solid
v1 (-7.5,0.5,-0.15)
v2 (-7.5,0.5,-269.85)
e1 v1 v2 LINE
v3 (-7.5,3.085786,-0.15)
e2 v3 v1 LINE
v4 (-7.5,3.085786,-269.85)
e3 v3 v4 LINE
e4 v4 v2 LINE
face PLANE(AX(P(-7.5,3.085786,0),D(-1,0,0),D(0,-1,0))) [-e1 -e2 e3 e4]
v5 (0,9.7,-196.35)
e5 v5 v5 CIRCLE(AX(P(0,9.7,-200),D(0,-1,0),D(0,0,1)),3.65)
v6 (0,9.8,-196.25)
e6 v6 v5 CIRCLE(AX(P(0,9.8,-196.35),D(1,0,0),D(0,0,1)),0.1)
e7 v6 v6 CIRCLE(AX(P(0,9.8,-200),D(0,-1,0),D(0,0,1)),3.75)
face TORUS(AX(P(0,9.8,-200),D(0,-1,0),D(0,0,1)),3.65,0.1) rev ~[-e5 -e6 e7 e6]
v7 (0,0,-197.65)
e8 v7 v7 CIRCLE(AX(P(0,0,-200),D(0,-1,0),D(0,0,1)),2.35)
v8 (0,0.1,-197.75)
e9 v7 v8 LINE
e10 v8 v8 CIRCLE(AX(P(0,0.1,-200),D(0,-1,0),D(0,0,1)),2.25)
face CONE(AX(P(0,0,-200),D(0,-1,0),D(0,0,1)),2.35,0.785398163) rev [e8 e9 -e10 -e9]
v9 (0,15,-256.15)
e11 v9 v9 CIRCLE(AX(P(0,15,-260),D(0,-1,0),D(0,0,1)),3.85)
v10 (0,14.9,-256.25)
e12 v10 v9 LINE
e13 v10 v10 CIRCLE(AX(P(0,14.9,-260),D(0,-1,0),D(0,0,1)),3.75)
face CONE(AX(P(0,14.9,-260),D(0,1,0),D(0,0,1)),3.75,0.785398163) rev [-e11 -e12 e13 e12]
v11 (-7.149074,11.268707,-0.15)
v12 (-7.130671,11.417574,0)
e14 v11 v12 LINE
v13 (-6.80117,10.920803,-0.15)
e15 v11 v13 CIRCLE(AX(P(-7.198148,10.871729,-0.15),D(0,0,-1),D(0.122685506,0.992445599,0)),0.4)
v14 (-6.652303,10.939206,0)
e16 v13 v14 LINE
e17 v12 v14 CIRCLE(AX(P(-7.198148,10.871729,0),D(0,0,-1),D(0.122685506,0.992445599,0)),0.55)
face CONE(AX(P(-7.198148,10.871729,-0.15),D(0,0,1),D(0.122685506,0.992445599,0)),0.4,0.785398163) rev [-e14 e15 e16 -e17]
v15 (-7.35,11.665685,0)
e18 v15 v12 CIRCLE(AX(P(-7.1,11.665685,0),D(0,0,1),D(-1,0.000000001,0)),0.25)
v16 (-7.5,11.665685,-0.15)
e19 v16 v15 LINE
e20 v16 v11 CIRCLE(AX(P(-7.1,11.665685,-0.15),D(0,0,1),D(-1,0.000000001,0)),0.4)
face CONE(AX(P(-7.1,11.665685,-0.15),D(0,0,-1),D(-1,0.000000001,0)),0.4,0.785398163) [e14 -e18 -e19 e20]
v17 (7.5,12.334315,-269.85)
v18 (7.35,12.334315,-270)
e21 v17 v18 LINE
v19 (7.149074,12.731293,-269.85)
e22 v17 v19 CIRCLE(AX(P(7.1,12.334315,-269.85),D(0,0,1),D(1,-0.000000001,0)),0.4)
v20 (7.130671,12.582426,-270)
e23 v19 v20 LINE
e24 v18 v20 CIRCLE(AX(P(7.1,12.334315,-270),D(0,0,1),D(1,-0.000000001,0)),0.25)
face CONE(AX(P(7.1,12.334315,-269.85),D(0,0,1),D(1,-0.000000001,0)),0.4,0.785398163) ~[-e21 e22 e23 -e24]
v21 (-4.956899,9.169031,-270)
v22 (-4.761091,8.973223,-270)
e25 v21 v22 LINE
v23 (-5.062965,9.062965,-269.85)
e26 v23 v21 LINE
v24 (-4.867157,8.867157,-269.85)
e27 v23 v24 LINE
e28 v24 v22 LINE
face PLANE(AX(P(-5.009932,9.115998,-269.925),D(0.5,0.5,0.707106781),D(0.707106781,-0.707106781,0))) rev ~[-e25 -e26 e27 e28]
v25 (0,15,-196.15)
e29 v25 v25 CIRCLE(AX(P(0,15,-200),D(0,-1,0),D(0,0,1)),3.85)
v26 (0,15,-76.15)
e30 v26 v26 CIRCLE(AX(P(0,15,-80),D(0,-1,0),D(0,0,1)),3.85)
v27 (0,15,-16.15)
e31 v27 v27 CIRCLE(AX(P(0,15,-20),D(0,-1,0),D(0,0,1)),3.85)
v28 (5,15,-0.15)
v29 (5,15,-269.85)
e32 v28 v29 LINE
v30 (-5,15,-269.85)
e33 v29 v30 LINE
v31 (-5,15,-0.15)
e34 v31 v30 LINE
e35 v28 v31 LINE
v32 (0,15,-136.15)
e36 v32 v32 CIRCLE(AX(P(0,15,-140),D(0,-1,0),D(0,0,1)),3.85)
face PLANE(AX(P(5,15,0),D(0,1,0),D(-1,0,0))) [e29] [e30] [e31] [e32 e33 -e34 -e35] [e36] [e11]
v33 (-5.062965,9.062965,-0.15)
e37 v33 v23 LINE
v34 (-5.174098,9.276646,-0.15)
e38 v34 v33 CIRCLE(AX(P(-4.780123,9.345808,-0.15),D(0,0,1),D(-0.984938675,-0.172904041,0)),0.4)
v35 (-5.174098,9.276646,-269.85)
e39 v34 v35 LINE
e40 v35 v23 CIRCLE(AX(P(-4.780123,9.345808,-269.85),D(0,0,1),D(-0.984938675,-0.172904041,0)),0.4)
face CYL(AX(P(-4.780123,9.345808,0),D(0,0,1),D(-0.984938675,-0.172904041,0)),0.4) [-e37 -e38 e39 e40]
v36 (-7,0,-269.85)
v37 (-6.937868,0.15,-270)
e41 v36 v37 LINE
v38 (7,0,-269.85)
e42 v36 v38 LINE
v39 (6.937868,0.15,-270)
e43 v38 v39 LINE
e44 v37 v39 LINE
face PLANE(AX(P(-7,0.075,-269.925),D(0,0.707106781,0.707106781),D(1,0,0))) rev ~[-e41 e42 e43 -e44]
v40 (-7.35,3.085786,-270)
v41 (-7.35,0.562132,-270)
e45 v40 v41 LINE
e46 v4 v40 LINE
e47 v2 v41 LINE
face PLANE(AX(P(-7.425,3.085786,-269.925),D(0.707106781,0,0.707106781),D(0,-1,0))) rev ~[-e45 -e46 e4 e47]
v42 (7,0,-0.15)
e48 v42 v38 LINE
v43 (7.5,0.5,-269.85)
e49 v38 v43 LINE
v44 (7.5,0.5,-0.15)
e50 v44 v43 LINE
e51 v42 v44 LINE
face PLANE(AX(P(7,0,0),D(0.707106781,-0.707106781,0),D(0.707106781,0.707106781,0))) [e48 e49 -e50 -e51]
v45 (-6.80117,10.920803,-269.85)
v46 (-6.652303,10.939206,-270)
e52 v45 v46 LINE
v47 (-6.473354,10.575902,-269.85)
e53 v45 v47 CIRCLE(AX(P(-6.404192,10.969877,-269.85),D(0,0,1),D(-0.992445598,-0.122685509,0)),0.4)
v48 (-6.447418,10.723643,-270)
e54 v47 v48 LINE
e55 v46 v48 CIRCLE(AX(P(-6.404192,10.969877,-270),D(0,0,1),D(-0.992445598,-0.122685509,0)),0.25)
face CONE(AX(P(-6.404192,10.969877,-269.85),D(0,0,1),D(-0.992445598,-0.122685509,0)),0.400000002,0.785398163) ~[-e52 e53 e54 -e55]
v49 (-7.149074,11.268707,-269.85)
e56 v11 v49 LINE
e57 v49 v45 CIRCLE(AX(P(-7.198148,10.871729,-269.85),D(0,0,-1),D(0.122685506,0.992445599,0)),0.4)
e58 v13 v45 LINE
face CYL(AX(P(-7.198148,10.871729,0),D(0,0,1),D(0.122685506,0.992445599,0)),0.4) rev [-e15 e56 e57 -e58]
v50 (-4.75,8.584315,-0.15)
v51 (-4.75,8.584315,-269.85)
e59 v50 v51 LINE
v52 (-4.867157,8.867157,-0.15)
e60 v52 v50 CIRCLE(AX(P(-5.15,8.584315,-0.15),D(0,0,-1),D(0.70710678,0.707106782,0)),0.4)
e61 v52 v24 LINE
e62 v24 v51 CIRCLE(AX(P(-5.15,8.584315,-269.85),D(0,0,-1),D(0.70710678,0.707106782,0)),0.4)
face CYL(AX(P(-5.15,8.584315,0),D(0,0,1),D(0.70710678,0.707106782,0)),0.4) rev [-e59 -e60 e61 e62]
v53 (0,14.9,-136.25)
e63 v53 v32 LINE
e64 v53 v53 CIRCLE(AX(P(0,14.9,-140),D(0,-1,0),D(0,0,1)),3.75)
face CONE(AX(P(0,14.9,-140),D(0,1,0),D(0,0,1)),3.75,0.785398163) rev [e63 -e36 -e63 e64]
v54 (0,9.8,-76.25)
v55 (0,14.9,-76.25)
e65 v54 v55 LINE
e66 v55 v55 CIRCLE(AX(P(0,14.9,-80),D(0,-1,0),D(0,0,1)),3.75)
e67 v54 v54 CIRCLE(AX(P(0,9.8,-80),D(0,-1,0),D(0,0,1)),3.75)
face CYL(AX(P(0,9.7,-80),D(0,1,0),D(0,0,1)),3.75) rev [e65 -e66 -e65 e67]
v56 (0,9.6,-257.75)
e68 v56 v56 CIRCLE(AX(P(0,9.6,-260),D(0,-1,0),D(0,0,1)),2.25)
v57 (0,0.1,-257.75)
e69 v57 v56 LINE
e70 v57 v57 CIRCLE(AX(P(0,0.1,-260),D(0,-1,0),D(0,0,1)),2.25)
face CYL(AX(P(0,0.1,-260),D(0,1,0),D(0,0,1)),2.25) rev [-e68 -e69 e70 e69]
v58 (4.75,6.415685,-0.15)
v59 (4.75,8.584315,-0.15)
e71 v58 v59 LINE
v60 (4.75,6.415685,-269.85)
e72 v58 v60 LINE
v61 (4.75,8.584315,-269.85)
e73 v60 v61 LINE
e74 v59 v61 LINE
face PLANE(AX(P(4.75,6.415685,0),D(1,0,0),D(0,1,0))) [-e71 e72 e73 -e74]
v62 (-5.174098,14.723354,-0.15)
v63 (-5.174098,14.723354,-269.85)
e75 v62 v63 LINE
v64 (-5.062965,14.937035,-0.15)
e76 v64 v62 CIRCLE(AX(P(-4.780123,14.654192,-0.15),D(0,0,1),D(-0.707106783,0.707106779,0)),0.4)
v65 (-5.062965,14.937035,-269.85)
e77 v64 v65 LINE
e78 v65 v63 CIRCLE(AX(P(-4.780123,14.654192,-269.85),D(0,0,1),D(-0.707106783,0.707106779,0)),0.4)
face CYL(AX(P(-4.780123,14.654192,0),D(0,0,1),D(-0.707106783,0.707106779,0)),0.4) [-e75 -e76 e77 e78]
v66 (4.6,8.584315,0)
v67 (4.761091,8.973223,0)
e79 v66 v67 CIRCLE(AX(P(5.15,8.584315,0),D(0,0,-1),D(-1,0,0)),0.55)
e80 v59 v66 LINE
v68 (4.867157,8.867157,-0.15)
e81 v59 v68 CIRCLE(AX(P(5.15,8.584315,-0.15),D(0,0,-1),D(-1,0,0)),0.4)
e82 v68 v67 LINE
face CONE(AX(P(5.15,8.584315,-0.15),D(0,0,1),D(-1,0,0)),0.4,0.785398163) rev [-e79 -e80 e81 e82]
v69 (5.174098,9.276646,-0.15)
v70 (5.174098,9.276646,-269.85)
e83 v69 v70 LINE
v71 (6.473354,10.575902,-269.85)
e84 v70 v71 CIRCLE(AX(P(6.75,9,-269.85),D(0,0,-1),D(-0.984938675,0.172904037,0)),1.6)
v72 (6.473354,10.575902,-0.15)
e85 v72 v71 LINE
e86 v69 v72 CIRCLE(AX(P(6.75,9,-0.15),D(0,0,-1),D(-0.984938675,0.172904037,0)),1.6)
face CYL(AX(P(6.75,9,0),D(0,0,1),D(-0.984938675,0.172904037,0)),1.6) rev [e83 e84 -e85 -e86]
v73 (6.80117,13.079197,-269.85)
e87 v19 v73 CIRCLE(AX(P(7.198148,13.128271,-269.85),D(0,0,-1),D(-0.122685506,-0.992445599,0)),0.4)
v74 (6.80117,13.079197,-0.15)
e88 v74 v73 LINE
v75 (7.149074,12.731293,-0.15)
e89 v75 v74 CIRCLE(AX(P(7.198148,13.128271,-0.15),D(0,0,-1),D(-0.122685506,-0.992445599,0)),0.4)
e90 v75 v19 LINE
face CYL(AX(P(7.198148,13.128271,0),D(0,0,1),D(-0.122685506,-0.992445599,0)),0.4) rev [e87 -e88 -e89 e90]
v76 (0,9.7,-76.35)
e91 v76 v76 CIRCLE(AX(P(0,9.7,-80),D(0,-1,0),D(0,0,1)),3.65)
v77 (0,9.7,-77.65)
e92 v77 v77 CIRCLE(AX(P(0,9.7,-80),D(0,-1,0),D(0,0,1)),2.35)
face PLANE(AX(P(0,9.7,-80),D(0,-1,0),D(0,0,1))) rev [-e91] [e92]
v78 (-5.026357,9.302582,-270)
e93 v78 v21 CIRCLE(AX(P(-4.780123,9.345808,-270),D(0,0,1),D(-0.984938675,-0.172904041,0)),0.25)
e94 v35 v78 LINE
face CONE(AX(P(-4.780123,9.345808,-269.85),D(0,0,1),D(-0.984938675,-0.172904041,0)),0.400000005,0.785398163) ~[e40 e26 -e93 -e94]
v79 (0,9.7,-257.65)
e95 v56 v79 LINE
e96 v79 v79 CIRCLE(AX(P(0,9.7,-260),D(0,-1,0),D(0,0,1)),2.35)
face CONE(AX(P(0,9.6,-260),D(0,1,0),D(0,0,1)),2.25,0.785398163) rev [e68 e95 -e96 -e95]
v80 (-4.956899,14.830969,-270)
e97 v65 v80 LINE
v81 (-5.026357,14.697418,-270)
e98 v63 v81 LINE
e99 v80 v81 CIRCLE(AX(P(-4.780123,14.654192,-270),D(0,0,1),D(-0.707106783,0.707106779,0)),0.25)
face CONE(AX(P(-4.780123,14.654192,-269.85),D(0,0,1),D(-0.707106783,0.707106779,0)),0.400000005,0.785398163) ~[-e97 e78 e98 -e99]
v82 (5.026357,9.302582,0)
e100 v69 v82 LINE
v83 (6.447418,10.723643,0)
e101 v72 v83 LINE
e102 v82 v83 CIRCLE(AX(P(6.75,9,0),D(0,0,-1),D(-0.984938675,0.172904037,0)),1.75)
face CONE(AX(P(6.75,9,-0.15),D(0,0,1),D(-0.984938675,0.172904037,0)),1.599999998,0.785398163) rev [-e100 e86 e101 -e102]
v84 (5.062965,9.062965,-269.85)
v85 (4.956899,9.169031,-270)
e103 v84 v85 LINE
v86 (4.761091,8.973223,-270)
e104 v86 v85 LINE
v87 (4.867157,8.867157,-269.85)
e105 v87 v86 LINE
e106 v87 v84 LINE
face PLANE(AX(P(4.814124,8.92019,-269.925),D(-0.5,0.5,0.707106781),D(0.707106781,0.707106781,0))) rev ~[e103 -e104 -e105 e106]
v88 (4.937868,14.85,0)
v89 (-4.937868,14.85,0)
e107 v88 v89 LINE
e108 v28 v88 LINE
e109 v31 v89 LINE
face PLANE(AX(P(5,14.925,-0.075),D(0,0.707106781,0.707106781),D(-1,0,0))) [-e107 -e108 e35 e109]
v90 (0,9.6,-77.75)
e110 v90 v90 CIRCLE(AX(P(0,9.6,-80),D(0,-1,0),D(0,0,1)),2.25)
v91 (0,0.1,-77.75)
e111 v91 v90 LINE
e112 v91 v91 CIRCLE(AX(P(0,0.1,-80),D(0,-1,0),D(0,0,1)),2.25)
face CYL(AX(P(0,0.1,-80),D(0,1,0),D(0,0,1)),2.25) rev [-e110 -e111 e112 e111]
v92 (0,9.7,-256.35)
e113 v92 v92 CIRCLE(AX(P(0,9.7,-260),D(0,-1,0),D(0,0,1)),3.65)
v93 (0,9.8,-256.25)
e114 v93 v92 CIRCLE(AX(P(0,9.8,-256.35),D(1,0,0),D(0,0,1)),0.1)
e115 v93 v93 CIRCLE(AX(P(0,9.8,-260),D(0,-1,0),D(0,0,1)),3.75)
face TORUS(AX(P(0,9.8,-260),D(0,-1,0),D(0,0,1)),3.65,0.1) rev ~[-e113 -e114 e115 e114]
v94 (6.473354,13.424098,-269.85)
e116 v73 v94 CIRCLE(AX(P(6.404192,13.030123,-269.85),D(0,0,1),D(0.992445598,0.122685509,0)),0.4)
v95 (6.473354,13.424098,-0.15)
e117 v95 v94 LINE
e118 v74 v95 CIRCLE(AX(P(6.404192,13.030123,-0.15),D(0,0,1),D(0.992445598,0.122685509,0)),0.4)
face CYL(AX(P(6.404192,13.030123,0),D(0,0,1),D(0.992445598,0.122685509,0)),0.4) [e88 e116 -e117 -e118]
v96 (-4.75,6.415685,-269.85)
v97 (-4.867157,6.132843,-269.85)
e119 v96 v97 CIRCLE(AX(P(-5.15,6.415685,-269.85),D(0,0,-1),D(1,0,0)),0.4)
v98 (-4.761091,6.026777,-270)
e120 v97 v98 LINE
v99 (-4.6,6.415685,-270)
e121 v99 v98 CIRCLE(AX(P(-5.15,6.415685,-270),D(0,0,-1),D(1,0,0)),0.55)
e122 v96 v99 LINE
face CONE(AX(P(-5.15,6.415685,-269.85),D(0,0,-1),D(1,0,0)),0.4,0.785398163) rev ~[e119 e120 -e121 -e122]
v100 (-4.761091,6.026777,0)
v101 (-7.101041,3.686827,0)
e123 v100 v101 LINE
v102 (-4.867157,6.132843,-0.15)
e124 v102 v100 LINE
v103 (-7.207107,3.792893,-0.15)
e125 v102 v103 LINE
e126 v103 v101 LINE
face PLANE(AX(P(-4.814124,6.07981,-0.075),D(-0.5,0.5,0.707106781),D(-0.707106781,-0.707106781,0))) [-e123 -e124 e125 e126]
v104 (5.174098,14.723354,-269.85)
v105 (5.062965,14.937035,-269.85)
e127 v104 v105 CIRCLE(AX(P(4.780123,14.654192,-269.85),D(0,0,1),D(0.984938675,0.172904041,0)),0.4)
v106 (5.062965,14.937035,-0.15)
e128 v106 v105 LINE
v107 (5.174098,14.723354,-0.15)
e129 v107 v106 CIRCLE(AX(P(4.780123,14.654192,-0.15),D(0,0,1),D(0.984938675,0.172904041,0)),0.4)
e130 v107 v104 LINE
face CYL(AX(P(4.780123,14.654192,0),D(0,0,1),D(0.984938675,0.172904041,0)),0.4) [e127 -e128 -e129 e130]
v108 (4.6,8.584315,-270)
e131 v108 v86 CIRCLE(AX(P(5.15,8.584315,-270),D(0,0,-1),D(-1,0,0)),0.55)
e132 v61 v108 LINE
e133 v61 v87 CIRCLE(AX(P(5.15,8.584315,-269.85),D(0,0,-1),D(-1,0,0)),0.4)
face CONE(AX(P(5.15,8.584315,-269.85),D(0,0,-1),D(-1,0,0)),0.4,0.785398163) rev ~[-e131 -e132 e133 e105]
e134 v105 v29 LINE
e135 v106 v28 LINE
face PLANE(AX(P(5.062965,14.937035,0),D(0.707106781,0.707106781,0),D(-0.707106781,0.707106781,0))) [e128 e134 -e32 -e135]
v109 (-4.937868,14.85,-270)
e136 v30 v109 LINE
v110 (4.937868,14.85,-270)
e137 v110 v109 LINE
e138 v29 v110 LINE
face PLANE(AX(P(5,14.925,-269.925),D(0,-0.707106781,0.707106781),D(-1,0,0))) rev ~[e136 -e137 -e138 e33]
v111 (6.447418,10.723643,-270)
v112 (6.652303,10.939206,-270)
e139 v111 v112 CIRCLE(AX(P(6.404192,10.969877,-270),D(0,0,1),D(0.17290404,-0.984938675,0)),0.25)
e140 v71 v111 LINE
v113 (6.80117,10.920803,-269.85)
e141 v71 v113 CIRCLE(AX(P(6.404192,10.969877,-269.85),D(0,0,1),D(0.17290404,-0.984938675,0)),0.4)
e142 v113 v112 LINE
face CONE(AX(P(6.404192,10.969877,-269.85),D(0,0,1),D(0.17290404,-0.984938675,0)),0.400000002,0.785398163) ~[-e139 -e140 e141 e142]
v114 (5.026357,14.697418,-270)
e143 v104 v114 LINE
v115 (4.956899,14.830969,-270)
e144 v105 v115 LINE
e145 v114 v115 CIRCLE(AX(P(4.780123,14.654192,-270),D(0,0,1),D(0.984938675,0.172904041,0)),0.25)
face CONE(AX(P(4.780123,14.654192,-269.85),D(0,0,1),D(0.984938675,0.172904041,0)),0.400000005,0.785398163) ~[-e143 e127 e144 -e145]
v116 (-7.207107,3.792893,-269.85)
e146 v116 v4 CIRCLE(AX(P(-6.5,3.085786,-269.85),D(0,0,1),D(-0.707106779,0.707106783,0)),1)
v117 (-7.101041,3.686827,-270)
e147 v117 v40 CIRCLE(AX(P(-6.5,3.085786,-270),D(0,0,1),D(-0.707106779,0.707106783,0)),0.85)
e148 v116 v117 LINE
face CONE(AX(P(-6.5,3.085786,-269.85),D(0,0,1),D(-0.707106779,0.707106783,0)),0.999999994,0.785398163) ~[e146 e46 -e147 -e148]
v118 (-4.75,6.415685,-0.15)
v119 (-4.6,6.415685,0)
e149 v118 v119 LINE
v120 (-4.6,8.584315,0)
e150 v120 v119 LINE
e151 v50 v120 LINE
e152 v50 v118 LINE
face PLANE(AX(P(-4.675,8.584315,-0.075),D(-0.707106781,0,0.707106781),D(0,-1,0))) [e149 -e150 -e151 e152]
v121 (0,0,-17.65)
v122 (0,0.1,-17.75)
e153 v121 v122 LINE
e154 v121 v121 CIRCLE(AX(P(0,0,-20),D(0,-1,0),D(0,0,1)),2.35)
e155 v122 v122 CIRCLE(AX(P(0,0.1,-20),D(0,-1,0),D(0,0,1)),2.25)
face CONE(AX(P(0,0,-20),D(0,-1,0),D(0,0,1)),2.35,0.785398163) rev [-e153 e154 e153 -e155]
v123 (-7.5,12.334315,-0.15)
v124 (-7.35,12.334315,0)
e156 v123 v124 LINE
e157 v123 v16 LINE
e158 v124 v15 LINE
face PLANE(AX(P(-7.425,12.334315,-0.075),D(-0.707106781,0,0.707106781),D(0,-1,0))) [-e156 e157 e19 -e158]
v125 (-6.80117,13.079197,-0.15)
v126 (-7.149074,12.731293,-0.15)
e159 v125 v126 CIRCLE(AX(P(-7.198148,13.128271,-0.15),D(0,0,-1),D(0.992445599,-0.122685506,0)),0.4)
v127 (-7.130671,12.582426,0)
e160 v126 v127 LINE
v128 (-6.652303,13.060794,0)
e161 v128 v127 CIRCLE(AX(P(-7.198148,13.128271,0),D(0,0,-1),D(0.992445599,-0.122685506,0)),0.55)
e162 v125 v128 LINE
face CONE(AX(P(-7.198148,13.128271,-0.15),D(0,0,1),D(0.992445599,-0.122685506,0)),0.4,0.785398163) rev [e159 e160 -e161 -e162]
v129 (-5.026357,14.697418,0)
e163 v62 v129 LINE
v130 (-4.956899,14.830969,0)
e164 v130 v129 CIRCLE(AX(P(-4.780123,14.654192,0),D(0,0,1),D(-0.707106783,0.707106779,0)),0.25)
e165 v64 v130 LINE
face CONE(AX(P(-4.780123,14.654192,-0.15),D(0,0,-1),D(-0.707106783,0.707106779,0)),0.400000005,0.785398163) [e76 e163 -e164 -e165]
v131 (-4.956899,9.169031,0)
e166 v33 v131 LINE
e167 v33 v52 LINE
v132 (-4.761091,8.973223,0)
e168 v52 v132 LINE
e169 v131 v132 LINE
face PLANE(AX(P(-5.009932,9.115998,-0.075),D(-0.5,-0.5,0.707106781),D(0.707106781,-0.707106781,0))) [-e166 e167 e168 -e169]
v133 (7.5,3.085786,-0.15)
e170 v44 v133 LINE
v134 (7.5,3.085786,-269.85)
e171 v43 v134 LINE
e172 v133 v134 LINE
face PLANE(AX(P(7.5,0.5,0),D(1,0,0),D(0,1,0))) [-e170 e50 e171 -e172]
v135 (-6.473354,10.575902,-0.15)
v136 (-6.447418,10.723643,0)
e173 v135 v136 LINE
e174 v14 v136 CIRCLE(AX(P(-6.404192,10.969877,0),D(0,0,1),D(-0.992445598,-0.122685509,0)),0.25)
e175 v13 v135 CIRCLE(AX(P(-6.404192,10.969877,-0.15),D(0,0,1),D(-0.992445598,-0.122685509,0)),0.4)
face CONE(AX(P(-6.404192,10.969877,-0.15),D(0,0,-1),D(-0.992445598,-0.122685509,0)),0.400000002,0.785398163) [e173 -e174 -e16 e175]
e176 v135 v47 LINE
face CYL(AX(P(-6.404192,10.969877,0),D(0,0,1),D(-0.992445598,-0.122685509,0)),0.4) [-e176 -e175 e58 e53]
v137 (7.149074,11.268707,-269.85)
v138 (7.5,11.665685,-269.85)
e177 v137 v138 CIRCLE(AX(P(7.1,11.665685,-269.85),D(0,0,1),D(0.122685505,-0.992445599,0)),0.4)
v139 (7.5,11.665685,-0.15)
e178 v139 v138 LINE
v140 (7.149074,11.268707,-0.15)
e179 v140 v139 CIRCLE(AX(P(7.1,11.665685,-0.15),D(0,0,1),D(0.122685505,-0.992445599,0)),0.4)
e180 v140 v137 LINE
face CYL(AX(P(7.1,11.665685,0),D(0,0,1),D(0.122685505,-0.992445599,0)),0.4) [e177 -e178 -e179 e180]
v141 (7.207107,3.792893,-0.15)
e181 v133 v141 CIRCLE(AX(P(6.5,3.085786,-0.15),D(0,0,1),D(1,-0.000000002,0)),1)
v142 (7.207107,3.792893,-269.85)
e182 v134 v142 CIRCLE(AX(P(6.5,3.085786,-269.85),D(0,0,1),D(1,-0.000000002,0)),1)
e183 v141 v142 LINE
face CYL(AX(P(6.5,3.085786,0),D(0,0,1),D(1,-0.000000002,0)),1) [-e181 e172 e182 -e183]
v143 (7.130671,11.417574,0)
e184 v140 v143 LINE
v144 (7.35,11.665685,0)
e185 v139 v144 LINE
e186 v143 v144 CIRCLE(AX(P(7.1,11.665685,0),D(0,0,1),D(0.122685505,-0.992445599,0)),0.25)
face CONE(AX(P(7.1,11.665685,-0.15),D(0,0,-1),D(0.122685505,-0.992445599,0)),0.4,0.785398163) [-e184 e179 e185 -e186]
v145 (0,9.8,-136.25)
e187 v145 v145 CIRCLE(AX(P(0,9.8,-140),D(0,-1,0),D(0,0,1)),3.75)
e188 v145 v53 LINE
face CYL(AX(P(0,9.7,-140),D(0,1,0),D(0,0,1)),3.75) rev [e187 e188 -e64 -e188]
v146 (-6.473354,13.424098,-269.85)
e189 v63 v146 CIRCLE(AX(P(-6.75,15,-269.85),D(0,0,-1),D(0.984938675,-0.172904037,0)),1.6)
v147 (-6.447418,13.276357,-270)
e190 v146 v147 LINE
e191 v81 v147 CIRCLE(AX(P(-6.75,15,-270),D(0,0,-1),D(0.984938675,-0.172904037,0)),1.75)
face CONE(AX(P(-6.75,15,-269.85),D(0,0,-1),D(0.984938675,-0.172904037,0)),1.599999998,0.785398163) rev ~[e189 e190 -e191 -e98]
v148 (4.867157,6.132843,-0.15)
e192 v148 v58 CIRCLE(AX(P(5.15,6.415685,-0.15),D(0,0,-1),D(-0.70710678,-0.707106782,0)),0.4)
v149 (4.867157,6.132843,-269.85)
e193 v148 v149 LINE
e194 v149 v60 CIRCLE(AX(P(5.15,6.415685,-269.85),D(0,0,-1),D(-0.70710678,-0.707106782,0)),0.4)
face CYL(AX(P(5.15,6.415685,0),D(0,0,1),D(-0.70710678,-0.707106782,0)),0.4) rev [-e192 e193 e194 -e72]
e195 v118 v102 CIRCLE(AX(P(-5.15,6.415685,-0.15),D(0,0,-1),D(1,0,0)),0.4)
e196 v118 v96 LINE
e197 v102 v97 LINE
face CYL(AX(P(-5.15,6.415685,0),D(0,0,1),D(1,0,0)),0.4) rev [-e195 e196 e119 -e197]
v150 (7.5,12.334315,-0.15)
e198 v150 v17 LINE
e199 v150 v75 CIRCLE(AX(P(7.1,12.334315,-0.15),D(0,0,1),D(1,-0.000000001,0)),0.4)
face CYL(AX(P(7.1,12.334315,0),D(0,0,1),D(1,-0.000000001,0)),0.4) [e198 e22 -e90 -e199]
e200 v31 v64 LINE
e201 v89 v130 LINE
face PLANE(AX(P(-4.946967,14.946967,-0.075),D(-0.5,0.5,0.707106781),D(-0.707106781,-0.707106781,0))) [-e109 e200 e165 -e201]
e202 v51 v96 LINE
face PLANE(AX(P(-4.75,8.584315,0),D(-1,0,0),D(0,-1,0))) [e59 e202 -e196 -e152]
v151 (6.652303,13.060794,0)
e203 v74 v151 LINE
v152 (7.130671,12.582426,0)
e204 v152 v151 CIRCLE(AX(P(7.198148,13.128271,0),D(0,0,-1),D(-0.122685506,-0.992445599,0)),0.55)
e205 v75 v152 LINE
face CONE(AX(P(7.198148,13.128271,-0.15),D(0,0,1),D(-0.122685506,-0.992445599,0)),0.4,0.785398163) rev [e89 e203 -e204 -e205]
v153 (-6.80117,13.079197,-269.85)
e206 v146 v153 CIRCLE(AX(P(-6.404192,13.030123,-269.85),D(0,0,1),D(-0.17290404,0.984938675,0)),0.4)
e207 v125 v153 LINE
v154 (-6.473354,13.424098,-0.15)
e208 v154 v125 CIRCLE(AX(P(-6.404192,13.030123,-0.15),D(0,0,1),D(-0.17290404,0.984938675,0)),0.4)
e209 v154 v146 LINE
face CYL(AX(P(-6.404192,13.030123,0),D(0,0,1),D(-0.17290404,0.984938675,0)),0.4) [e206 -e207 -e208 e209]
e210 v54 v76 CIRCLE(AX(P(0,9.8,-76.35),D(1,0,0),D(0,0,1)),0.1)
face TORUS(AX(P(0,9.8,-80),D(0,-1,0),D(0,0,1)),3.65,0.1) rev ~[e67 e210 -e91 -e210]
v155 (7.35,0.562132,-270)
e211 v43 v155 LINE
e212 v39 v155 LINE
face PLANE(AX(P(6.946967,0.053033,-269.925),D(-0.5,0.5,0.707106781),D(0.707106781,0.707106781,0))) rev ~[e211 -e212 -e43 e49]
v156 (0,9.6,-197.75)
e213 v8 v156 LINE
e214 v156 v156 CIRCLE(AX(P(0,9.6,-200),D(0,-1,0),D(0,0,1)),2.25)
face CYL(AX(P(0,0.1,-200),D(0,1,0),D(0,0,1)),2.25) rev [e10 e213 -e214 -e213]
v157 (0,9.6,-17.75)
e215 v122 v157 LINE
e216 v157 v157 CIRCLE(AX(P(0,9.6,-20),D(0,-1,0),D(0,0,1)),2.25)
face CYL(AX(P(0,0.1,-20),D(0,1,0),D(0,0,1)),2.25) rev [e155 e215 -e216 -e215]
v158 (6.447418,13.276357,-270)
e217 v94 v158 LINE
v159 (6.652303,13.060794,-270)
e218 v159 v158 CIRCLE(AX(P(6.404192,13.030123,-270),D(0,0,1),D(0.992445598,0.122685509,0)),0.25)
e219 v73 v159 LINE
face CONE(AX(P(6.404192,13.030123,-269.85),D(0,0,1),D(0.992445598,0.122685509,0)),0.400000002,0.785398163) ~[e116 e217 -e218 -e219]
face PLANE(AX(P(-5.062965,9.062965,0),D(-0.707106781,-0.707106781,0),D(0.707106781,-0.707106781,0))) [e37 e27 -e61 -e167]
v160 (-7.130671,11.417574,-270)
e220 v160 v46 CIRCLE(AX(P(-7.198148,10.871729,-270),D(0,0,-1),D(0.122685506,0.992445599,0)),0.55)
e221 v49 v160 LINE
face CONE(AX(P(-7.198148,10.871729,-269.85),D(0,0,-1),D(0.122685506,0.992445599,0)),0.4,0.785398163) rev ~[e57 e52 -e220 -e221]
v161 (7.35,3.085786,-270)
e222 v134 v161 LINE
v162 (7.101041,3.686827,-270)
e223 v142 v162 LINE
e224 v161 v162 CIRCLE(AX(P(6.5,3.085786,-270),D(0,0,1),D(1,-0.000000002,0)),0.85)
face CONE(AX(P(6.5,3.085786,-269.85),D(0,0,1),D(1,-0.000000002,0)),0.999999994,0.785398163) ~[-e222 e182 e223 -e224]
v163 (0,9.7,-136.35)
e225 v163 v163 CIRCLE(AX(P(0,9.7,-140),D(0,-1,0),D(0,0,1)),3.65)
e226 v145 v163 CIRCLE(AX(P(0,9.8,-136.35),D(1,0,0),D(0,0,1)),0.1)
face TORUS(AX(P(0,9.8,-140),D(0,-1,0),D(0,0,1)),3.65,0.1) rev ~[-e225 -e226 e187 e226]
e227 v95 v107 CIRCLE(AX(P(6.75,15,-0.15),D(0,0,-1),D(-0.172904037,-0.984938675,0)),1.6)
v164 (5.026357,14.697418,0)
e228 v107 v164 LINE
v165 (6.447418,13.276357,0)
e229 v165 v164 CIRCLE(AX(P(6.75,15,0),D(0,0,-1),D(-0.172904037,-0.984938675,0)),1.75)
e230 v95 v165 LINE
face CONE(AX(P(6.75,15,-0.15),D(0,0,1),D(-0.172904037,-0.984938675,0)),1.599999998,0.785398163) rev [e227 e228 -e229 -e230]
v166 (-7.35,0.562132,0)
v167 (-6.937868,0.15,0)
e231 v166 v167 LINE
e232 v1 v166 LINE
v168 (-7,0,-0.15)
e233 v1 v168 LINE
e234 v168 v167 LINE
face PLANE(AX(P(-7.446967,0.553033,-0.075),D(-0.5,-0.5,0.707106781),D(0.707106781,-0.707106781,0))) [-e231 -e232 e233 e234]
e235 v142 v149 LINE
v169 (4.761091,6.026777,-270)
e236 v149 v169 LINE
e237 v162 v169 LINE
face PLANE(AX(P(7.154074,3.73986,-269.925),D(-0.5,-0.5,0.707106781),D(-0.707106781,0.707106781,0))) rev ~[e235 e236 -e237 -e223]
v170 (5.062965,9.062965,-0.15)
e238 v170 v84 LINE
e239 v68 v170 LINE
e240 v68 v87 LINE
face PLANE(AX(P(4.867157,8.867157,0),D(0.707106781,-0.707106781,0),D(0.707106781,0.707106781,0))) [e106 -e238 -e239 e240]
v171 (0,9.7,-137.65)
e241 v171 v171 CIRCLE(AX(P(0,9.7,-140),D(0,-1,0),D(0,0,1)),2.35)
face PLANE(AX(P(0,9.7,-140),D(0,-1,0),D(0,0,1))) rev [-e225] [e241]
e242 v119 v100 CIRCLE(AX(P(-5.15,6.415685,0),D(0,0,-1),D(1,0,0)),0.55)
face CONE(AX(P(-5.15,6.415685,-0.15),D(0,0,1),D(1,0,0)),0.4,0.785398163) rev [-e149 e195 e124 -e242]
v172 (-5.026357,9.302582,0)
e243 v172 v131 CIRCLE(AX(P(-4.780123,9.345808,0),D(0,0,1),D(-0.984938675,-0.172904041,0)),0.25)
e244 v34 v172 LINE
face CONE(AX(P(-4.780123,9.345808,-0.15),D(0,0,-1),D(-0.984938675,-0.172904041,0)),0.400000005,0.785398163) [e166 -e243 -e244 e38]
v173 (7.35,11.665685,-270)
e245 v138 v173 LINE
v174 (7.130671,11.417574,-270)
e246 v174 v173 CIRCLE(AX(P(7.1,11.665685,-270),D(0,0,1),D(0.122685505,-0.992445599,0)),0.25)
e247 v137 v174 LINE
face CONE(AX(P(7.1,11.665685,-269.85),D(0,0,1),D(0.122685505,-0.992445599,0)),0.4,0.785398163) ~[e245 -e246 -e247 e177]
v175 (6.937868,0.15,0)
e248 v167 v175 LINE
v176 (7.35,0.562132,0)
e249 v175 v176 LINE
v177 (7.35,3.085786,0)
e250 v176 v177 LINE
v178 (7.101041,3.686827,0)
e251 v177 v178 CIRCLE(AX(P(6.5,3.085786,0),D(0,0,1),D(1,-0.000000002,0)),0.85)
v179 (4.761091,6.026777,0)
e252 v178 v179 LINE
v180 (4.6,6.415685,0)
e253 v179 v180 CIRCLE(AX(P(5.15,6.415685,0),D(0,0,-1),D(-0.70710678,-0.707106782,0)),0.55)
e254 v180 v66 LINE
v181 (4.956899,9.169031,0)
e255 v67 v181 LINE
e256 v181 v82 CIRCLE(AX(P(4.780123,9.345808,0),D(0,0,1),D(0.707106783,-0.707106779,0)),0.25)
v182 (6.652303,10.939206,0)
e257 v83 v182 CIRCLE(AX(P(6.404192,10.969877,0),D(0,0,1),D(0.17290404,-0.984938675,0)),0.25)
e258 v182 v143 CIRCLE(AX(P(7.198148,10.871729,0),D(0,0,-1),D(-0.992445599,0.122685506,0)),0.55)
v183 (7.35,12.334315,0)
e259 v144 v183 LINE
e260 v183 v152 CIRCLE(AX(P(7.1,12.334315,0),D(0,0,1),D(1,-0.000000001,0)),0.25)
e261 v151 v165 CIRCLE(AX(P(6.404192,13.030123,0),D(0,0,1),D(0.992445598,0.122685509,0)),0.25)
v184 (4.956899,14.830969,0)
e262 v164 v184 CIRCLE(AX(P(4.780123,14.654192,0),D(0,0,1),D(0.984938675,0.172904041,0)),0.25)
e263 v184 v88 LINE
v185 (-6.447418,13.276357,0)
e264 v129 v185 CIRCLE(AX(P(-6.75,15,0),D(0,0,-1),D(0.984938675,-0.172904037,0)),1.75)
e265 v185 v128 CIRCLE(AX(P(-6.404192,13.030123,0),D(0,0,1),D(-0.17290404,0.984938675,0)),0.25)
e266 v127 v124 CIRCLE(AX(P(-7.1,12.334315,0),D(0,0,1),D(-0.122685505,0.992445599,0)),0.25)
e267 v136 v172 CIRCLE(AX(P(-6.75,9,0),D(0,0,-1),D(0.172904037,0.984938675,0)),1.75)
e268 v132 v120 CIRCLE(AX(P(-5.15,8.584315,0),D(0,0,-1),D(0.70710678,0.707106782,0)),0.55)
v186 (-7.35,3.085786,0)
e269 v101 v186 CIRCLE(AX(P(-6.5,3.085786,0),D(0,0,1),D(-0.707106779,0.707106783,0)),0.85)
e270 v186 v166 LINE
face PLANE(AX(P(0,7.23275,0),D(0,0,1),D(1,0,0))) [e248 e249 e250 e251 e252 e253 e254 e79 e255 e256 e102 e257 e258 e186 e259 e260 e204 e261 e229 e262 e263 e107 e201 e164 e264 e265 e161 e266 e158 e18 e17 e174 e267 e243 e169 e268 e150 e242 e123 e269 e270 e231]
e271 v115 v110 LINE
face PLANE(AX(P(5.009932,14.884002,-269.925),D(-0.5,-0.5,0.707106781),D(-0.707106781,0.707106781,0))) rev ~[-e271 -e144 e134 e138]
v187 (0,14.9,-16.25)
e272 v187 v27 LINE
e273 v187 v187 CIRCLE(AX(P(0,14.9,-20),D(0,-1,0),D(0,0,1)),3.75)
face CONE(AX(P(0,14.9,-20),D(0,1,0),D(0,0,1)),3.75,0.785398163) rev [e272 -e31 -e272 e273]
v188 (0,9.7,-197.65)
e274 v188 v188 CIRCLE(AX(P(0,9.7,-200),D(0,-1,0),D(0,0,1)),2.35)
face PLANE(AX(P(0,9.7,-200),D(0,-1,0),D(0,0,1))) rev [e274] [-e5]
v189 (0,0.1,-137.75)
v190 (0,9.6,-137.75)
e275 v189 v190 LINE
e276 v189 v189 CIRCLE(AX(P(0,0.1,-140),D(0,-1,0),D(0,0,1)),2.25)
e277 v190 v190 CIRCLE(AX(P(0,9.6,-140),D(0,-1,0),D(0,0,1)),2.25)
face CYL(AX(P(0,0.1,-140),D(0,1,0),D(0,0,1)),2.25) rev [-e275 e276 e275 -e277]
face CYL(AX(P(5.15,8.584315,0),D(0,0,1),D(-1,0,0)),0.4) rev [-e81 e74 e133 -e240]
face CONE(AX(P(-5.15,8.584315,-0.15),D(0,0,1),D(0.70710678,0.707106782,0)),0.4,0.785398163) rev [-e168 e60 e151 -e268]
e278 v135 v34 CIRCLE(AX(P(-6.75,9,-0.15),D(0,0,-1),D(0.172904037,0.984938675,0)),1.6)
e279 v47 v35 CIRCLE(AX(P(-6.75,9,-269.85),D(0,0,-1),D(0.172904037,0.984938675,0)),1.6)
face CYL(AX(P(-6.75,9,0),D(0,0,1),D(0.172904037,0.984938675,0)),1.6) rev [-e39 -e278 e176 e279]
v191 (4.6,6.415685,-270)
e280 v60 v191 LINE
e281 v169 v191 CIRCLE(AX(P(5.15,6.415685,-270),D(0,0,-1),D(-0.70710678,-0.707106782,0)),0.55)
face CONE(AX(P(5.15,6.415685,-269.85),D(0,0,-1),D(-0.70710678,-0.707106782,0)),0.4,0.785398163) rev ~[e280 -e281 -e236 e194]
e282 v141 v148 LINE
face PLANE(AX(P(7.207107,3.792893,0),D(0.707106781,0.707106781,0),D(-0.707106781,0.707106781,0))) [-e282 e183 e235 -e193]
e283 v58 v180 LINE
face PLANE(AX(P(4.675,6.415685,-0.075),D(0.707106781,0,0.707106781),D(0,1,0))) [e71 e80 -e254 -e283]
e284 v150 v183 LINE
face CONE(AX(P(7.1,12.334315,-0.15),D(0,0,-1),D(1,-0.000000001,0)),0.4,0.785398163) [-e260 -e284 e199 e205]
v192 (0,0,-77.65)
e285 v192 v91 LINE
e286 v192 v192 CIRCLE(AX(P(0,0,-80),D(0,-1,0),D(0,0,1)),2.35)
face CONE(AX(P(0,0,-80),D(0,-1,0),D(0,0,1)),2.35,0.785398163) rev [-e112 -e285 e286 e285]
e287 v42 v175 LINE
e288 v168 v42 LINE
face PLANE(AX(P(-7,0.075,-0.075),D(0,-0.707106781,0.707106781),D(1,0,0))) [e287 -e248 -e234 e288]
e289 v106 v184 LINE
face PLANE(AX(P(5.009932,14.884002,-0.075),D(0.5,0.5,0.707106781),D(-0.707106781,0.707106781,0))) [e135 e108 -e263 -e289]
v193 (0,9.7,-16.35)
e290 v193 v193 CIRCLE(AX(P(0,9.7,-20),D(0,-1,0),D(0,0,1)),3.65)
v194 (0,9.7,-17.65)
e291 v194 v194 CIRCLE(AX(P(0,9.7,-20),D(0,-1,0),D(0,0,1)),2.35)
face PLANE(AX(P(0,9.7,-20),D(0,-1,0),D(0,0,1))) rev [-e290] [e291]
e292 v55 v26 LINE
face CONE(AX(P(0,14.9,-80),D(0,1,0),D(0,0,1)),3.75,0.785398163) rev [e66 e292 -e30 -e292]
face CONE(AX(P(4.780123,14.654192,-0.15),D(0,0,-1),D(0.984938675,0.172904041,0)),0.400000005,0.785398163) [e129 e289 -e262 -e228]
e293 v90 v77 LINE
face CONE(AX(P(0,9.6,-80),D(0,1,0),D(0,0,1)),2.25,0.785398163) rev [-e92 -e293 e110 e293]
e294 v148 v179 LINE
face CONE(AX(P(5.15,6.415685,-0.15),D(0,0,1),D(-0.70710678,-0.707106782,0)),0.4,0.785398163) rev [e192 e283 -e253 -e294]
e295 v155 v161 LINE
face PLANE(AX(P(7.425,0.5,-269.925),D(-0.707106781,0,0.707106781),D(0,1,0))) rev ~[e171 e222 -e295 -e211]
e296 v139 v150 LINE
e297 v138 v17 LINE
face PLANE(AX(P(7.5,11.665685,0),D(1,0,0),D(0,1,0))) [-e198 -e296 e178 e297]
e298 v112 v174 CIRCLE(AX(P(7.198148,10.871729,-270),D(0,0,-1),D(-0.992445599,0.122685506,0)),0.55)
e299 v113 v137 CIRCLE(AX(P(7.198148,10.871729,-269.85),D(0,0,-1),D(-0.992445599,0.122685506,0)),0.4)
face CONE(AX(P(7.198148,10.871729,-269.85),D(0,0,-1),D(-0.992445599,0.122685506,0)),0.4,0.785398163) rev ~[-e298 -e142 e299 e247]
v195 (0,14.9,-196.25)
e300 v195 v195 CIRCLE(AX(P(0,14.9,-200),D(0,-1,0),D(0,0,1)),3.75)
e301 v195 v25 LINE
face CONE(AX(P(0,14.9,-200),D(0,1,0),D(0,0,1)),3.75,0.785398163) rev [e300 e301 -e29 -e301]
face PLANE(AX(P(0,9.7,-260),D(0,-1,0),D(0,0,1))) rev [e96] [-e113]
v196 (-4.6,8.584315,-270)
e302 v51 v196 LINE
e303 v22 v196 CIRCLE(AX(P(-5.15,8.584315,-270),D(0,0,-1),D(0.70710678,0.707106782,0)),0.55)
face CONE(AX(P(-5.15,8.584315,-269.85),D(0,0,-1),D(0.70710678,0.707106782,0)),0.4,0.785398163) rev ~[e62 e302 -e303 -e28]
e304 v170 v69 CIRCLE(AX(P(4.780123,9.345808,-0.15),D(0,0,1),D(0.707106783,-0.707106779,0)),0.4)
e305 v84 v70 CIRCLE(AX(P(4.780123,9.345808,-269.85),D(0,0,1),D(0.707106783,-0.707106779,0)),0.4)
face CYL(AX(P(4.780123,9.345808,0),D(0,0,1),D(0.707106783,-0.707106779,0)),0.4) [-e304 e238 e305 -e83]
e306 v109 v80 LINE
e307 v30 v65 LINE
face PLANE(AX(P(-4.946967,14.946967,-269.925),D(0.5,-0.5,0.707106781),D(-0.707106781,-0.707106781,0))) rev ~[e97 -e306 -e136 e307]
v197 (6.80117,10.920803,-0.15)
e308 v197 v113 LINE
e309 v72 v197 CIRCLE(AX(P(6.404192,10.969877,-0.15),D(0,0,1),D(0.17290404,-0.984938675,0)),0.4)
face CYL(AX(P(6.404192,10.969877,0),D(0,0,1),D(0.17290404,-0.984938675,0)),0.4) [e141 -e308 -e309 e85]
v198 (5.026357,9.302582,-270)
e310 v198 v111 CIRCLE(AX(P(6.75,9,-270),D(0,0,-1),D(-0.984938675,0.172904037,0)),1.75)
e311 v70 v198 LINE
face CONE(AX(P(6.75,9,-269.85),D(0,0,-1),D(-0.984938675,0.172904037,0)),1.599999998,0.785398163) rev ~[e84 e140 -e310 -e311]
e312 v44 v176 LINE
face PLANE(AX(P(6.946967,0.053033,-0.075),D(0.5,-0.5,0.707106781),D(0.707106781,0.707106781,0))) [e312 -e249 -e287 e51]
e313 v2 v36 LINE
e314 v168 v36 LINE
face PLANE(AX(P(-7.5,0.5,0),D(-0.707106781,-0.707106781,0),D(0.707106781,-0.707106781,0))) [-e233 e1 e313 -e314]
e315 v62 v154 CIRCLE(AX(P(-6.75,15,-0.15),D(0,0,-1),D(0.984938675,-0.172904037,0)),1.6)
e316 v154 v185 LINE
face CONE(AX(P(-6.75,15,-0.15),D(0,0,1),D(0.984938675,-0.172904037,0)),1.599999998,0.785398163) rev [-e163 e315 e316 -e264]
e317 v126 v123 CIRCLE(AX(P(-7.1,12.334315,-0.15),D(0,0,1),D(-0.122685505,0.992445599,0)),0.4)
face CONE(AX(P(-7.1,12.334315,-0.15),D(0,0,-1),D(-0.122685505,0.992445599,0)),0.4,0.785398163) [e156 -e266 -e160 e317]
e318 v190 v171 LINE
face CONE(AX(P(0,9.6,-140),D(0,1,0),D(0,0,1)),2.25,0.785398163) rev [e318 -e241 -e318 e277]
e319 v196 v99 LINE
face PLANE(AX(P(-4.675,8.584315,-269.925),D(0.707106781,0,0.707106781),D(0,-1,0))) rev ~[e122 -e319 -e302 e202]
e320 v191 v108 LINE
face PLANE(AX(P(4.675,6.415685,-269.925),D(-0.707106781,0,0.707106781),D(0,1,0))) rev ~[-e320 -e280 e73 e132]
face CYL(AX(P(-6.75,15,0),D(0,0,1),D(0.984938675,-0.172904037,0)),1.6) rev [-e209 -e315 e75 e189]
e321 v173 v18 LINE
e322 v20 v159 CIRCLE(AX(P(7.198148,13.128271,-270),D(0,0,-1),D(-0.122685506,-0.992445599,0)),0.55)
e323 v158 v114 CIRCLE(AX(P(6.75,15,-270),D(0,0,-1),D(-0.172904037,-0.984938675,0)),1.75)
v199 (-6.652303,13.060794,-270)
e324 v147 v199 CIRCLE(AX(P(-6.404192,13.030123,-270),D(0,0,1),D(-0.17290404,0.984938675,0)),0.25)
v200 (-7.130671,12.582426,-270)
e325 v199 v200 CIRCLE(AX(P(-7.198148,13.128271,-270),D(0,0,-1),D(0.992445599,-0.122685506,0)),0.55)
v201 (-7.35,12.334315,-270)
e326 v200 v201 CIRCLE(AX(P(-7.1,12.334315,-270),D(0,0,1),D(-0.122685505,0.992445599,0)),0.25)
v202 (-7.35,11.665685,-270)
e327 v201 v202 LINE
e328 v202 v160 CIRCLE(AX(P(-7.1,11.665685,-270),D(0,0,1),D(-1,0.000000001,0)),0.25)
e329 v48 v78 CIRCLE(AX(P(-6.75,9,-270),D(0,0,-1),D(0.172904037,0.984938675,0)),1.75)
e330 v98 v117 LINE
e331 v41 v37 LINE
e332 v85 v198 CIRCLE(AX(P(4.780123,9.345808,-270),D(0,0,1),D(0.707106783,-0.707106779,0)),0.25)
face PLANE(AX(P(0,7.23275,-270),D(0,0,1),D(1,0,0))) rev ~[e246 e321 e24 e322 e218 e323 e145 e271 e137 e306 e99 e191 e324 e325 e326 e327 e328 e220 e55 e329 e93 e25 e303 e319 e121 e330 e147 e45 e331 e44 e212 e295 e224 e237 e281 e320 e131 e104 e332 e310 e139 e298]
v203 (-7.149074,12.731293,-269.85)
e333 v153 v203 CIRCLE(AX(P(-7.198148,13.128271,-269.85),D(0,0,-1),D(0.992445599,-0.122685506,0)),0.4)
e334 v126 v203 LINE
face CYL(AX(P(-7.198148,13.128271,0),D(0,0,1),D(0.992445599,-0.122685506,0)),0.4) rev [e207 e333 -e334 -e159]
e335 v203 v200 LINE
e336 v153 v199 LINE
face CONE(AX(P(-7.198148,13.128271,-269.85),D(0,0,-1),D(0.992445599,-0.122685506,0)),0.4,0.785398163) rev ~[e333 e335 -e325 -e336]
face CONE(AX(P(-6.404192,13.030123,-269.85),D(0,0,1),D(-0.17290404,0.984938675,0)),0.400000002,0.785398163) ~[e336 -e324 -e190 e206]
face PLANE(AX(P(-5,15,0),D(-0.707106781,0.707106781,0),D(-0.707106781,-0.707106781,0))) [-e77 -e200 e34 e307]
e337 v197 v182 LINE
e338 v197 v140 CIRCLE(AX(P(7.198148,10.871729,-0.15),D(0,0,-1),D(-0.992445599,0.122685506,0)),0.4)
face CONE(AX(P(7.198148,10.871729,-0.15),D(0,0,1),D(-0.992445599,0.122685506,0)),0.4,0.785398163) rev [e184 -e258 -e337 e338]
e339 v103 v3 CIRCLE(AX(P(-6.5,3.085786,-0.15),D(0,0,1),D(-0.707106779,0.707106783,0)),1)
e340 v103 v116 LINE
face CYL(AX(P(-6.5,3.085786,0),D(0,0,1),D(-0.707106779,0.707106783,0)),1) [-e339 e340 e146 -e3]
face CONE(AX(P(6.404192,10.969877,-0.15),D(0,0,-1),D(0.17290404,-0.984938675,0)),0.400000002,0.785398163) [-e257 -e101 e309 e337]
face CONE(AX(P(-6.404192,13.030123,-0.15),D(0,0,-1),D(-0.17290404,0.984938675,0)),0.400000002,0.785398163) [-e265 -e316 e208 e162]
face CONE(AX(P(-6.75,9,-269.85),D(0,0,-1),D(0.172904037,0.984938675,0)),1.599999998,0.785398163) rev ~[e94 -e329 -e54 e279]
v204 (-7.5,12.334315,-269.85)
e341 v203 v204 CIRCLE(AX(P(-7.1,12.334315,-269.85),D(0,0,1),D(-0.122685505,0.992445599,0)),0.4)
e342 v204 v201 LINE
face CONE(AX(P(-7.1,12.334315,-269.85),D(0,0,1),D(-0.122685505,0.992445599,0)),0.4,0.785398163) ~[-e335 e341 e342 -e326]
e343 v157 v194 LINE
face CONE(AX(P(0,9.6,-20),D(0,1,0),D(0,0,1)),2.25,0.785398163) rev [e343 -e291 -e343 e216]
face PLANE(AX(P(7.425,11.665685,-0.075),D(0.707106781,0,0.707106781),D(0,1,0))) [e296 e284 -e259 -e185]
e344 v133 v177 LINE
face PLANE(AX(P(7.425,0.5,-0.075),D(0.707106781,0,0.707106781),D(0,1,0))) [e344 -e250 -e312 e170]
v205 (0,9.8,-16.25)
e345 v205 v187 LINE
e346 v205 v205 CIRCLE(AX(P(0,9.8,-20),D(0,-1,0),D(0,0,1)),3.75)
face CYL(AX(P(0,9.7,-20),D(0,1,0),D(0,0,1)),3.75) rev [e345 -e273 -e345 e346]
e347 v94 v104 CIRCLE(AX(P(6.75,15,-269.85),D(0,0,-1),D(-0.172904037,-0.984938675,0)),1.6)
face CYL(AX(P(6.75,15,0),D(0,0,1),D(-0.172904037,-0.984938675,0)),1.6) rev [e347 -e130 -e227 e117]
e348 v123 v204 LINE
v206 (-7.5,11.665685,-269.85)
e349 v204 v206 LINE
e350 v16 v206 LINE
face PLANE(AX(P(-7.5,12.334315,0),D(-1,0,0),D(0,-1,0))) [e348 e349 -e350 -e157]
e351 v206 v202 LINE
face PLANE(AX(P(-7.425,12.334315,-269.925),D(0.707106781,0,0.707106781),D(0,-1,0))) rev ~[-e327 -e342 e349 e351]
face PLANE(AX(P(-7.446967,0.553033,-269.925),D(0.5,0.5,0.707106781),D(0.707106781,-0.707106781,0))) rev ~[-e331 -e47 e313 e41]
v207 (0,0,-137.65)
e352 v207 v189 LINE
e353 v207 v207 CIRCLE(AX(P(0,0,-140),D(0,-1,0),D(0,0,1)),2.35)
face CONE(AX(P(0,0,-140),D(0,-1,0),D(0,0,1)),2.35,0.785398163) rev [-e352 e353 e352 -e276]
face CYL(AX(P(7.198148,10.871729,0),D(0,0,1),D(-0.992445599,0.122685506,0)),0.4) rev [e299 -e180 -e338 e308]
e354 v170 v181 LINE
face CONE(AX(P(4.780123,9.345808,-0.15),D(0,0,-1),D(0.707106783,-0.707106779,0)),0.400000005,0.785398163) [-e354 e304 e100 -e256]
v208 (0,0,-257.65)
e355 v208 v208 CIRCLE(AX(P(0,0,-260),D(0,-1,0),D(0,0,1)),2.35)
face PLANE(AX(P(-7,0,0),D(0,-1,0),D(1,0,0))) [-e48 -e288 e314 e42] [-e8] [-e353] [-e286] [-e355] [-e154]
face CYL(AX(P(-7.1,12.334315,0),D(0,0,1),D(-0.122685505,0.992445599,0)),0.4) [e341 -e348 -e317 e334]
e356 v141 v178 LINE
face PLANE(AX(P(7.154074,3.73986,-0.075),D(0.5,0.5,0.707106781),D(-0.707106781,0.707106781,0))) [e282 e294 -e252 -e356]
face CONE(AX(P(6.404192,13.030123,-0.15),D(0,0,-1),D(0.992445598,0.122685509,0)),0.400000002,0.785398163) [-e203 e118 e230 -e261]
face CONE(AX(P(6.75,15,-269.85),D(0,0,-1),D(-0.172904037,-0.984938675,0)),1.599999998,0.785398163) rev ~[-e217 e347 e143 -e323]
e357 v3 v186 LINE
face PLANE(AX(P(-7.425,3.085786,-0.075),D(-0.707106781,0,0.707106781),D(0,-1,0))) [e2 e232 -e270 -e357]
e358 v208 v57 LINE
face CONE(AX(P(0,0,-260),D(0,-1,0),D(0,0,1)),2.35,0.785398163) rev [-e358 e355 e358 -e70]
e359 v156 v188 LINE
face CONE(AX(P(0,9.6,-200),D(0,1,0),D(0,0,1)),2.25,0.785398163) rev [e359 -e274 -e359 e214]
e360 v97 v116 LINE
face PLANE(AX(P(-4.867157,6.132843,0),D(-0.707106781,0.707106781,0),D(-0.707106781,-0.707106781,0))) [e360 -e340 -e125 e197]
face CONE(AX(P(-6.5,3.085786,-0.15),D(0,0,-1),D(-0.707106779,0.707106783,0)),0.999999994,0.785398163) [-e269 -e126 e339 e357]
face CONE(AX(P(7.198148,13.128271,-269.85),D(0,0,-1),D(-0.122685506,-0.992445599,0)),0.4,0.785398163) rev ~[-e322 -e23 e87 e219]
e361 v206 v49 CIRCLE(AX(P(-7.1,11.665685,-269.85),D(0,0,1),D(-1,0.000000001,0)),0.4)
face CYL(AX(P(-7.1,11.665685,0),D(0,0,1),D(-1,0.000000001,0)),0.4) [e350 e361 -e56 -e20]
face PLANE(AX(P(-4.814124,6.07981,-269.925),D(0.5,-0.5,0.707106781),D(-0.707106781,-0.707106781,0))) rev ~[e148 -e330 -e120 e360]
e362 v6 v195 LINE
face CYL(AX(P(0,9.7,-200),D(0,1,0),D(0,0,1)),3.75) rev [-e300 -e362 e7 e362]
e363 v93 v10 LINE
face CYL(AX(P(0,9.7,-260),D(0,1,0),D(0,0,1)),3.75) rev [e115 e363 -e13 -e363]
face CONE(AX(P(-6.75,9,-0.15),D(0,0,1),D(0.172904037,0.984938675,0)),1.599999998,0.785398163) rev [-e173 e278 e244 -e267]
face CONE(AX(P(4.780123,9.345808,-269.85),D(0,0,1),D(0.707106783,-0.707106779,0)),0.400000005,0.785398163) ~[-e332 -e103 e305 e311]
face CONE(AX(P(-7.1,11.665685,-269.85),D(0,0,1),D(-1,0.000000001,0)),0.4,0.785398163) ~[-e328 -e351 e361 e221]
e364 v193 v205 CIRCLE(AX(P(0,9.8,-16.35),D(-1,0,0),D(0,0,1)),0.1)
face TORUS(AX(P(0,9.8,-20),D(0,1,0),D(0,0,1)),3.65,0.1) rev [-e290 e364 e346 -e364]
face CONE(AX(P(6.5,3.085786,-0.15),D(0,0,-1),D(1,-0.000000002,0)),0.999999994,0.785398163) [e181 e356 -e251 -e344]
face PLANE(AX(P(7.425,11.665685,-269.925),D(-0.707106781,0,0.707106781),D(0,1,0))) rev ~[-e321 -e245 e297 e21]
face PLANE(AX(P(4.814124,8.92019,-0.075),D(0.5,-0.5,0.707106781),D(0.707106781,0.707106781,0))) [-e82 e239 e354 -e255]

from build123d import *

# Parameters (mm, degrees)
BODY_DEPTH                                 = 270
AESTHETIC_CHAMFER_SIZE                     = 0.15
PRODUCTION_FILLET_R                        = 0.1
MOUNTING_HOLES_PATTERN_COUNT               = 5
MOUNTING_HOLES_PATTERN_PITCH               = 60
PRODUCTION_FILLET_OF_MOUNTING_HOLES_PATT_R = 0.1


with BuildPart() as part:
    # Rail Profile → Body (new body)
    with BuildSketch(Plane.XY):
        with BuildLine():
            Line((-7, 0), (7, 0))
            Line((7, 0), (7.5, 0.5))
            Line((7.5, 0.5), (7.5, 3.085786438))
            ThreePointArc((7.5, 3.085786438), (7.423879533, 3.46846987), (7.207106781, 3.792893219))
            Line((7.207106781, 3.792893219), (4.867157288, 6.132842712))
            ThreePointArc((4.867157288, 6.132842712), (4.780448187, 6.262612052), (4.75, 6.415685425))
            Line((4.75, 6.415685425), (4.75, 8.584314575))
            ThreePointArc((4.75, 8.584314575), (4.780448187, 8.737387948), (4.867157288, 8.867157288))
            Line((4.867157288, 8.867157288), (5.062965362, 9.062965362))
            ThreePointArc((5.062965362, 9.062965362), (5.134996734, 9.161242682), (5.17409812, 9.27664646))
            ThreePointArc((5.17409812, 9.27664646), (5.61862915, 10.13137085), (6.47335354, 10.57590188))
            ThreePointArc((6.47335354, 10.57590188), (6.694124352, 10.694306692), (6.801170165, 10.920803148))
            ThreePointArc((6.801170165, 10.920803148), (6.915305692, 11.154571658), (7.149074202, 11.268707185))
            ThreePointArc((7.149074202, 11.268707185), (7.399691242, 11.400760606), (7.5, 11.665685425))
            Line((7.5, 11.665685425), (7.5, 12.334314575))
            ThreePointArc((7.5, 12.334314575), (7.399691242, 12.599239394), (7.149074202, 12.731292815))
            ThreePointArc((7.149074202, 12.731292815), (6.915305692, 12.845428342), (6.801170165, 13.079196852))
            ThreePointArc((6.801170165, 13.079196852), (6.694124352, 13.305693308), (6.47335354, 13.42409812))
            ThreePointArc((6.47335354, 13.42409812), (5.61862915, 13.86862915), (5.17409812, 14.72335354))
            ThreePointArc((5.17409812, 14.72335354), (5.134996734, 14.838757318), (5.062965362, 14.937034638))
            Line((5.062965362, 14.937034638), (5, 15))
            Line((5, 15), (-5, 15))
            Line((-5, 15), (-5.062965362, 14.937034638))
            ThreePointArc((-5.062965362, 14.937034638), (-5.134996734, 14.838757318), (-5.17409812, 14.72335354))
            ThreePointArc((-5.17409812, 14.72335354), (-5.61862915, 13.86862915), (-6.47335354, 13.42409812))
            ThreePointArc((-6.47335354, 13.42409812), (-6.694124352, 13.305693308), (-6.801170165, 13.079196852))
            ThreePointArc((-6.801170165, 13.079196852), (-6.915305692, 12.845428342), (-7.149074202, 12.731292815))
            ThreePointArc((-7.149074202, 12.731292815), (-7.399691242, 12.599239394), (-7.5, 12.334314575))
            Line((-7.5, 12.334314575), (-7.5, 11.665685425))
            ThreePointArc((-7.5, 11.665685425), (-7.399691242, 11.400760606), (-7.149074202, 11.268707185))
            ThreePointArc((-7.149074202, 11.268707185), (-6.915305692, 11.154571658), (-6.801170165, 10.920803148))
            ThreePointArc((-6.801170165, 10.920803148), (-6.694124352, 10.694306692), (-6.47335354, 10.57590188))
            ThreePointArc((-6.47335354, 10.57590188), (-5.61862915, 10.13137085), (-5.17409812, 9.27664646))
            ThreePointArc((-5.17409812, 9.27664646), (-5.134996734, 9.161242682), (-5.062965362, 9.062965362))
            Line((-5.062965362, 9.062965362), (-4.867157288, 8.867157288))
            ThreePointArc((-4.867157288, 8.867157288), (-4.780448187, 8.737387948), (-4.75, 8.584314575))
            Line((-4.75, 8.584314575), (-4.75, 6.415685425))
            ThreePointArc((-4.75, 6.415685425), (-4.780448187, 6.262612052), (-4.867157288, 6.132842712))
            Line((-4.867157288, 6.132842712), (-7.207106781, 3.792893219))
            ThreePointArc((-7.207106781, 3.792893219), (-7.423879533, 3.46846987), (-7.5, 3.085786438))
            Line((-7.5, 3.085786438), (-7.5, 0.5))
            Line((-7.5, 0.5), (-7, 0))
        make_face()
    extrude(amount=-BODY_DEPTH)

    # Aesthetic Chamfer
    aesthetic_chamfer_edges = [part.edges().sort_by_distance(p)[0] for p in [
        (7.423879533, 3.46846987, -270),
        (-5.134996734, 9.161242682, -270),
        (-4.965061325, 8.965061325, -270),
        (-4.780448187, 8.737387948, -270),
        (-4.75, 7.5, -270),
        (-4.780448187, 6.262612052, -270),
        (-6.037132034, 4.962867966, -270),
        (-7.423879533, 3.46846987, -270),
        (-7.5, 1.792893219, -270),
        (-7.25, 0.25, -270),
        (0, 0, -270),
        (6.037132034, 4.962867966, -270),
        (4.780448187, 6.262612052, -270),
        (4.75, 7.5, -270),
        (4.780448187, 8.737387948, -270),
        (4.965061325, 8.965061325, -270),
        (5.134996734, 9.161242682, -270),
        (5.61862915, 10.13137085, -270),
        (6.694124352, 10.694306692, -270),
        (0, 0, 0),
        (-7.25, 0.25, 0),
        (-7.5, 1.792893219, 0),
        (-7.423879533, 3.46846987, 0),
        (-6.037132034, 4.962867966, 0),
        (-4.780448187, 6.262612052, 0),
        (6.915305692, 11.154571658, -270),
        (-4.75, 7.5, 0),
        (-4.780448187, 8.737387948, 0),
        (-4.965061325, 8.965061325, 0),
        (-5.134996734, 9.161242682, 0),
        (-5.61862915, 10.13137085, 0),
        (-6.694124352, 10.694306692, 0),
        (-6.915305692, 11.154571658, 0),
        (7.25, 0.25, -270),
        (7.399691242, 11.400760606, -270),
        (-7.399691242, 11.400760606, 0),
        (-7.5, 12, 0),
        (-7.399691242, 12.599239394, 0),
        (-6.915305692, 12.845428342, 0),
        (-6.694124352, 13.305693308, 0),
        (-5.61862915, 13.86862915, 0),
        (-5.134996734, 14.838757318, 0),
        (-5.031482681, 14.968517319, 0),
        (7.5, 12, -270),
        (0, 15, 0),
        (5.031482681, 14.968517319, 0),
        (5.134996734, 14.838757318, 0),
        (5.61862915, 13.86862915, 0),
        (6.694124352, 13.305693308, 0),
        (6.915305692, 12.845428342, 0),
        (7.399691242, 12.599239394, 0),
        (7.399691242, 12.599239394, -270),
        (7.5, 12, 0),
        (7.399691242, 11.400760606, 0),
        (6.915305692, 11.154571658, 0),
        (6.694124352, 10.694306692, 0),
        (5.61862915, 10.13137085, 0),
        (5.134996734, 9.161242682, 0),
        (4.965061325, 8.965061325, 0),
        (4.780448187, 8.737387948, 0),
        (6.915305692, 12.845428342, -270),
        (4.75, 7.5, 0),
        (4.780448187, 6.262612052, 0),
        (6.037132034, 4.962867966, 0),
        (7.423879533, 3.46846987, 0),
        (7.5, 1.792893219, 0),
        (7.25, 0.25, 0),
        (6.694124352, 13.305693308, -270),
        (5.61862915, 13.86862915, -270),
        (5.134996734, 14.838757318, -270),
        (5.031482681, 14.968517319, -270),
        (0, 15, -270),
        (-5.031482681, 14.968517319, -270),
        (7.5, 1.792893219, -270),
        (-5.134996734, 14.838757318, -270),
        (-5.61862915, 13.86862915, -270),
        (-6.694124352, 13.305693308, -270),
        (-6.915305692, 12.845428342, -270),
        (-7.399691242, 12.599239394, -270),
        (-7.5, 12, -270),
        (-7.399691242, 11.400760606, -270),
        (-6.915305692, 11.154571658, -270),
        (-6.694124352, 10.694306692, -270),
        (-5.61862915, 10.13137085, -270),
    ]]
    chamfer(aesthetic_chamfer_edges, length=AESTHETIC_CHAMFER_SIZE)

    # Sketch1 → Mounting Hole (revolve, cut)
    with BuildSketch(Plane(origin=(0, 15, -20), x_dir=(0, 0, 1), z_dir=(1, 0, 0))):
        Polygon((0, 0), (0, 15), (2.35, 15), (2.25, 14.9), (2.25, 5.4), (2.35, 5.3), (3.75, 5.3), (3.75, 0.1), (3.85, 0), align=None)
    mounting_hole = revolve(axis=Axis((0, 21.35, -20), (0, -1, 0)), mode=Mode.SUBTRACT)

    # Production Fillet
    production_fillet_edges = [part.edges().sort_by_distance(p)[0] for p in [
        (0, 9.7, -23.75),
    ]]
    fillet(production_fillet_edges, radius=PRODUCTION_FILLET_R)

    # Mounting Holes Pattern: Mounting Hole ×5
    with Locations(*[(0, 0, -i * MOUNTING_HOLES_PATTERN_PITCH) for i in range(1, MOUNTING_HOLES_PATTERN_COUNT)]):
        add(mounting_hole, mode=Mode.SUBTRACT)

    # Production Fillet of Mounting Holes Patt
    production_fillet_of_mounting_holes_patt_edges = [part.edges().sort_by_distance(p)[0] for p in [
        (0, 9.7, -83.75),
        (0, 9.7, -143.75),
        (0, 9.7, -203.75),
        (0, 9.7, -263.75),
    ]]
    fillet(production_fillet_of_mounting_holes_patt_edges, radius=PRODUCTION_FILLET_OF_MOUNTING_HOLES_PATT_R)


solid = part.part
